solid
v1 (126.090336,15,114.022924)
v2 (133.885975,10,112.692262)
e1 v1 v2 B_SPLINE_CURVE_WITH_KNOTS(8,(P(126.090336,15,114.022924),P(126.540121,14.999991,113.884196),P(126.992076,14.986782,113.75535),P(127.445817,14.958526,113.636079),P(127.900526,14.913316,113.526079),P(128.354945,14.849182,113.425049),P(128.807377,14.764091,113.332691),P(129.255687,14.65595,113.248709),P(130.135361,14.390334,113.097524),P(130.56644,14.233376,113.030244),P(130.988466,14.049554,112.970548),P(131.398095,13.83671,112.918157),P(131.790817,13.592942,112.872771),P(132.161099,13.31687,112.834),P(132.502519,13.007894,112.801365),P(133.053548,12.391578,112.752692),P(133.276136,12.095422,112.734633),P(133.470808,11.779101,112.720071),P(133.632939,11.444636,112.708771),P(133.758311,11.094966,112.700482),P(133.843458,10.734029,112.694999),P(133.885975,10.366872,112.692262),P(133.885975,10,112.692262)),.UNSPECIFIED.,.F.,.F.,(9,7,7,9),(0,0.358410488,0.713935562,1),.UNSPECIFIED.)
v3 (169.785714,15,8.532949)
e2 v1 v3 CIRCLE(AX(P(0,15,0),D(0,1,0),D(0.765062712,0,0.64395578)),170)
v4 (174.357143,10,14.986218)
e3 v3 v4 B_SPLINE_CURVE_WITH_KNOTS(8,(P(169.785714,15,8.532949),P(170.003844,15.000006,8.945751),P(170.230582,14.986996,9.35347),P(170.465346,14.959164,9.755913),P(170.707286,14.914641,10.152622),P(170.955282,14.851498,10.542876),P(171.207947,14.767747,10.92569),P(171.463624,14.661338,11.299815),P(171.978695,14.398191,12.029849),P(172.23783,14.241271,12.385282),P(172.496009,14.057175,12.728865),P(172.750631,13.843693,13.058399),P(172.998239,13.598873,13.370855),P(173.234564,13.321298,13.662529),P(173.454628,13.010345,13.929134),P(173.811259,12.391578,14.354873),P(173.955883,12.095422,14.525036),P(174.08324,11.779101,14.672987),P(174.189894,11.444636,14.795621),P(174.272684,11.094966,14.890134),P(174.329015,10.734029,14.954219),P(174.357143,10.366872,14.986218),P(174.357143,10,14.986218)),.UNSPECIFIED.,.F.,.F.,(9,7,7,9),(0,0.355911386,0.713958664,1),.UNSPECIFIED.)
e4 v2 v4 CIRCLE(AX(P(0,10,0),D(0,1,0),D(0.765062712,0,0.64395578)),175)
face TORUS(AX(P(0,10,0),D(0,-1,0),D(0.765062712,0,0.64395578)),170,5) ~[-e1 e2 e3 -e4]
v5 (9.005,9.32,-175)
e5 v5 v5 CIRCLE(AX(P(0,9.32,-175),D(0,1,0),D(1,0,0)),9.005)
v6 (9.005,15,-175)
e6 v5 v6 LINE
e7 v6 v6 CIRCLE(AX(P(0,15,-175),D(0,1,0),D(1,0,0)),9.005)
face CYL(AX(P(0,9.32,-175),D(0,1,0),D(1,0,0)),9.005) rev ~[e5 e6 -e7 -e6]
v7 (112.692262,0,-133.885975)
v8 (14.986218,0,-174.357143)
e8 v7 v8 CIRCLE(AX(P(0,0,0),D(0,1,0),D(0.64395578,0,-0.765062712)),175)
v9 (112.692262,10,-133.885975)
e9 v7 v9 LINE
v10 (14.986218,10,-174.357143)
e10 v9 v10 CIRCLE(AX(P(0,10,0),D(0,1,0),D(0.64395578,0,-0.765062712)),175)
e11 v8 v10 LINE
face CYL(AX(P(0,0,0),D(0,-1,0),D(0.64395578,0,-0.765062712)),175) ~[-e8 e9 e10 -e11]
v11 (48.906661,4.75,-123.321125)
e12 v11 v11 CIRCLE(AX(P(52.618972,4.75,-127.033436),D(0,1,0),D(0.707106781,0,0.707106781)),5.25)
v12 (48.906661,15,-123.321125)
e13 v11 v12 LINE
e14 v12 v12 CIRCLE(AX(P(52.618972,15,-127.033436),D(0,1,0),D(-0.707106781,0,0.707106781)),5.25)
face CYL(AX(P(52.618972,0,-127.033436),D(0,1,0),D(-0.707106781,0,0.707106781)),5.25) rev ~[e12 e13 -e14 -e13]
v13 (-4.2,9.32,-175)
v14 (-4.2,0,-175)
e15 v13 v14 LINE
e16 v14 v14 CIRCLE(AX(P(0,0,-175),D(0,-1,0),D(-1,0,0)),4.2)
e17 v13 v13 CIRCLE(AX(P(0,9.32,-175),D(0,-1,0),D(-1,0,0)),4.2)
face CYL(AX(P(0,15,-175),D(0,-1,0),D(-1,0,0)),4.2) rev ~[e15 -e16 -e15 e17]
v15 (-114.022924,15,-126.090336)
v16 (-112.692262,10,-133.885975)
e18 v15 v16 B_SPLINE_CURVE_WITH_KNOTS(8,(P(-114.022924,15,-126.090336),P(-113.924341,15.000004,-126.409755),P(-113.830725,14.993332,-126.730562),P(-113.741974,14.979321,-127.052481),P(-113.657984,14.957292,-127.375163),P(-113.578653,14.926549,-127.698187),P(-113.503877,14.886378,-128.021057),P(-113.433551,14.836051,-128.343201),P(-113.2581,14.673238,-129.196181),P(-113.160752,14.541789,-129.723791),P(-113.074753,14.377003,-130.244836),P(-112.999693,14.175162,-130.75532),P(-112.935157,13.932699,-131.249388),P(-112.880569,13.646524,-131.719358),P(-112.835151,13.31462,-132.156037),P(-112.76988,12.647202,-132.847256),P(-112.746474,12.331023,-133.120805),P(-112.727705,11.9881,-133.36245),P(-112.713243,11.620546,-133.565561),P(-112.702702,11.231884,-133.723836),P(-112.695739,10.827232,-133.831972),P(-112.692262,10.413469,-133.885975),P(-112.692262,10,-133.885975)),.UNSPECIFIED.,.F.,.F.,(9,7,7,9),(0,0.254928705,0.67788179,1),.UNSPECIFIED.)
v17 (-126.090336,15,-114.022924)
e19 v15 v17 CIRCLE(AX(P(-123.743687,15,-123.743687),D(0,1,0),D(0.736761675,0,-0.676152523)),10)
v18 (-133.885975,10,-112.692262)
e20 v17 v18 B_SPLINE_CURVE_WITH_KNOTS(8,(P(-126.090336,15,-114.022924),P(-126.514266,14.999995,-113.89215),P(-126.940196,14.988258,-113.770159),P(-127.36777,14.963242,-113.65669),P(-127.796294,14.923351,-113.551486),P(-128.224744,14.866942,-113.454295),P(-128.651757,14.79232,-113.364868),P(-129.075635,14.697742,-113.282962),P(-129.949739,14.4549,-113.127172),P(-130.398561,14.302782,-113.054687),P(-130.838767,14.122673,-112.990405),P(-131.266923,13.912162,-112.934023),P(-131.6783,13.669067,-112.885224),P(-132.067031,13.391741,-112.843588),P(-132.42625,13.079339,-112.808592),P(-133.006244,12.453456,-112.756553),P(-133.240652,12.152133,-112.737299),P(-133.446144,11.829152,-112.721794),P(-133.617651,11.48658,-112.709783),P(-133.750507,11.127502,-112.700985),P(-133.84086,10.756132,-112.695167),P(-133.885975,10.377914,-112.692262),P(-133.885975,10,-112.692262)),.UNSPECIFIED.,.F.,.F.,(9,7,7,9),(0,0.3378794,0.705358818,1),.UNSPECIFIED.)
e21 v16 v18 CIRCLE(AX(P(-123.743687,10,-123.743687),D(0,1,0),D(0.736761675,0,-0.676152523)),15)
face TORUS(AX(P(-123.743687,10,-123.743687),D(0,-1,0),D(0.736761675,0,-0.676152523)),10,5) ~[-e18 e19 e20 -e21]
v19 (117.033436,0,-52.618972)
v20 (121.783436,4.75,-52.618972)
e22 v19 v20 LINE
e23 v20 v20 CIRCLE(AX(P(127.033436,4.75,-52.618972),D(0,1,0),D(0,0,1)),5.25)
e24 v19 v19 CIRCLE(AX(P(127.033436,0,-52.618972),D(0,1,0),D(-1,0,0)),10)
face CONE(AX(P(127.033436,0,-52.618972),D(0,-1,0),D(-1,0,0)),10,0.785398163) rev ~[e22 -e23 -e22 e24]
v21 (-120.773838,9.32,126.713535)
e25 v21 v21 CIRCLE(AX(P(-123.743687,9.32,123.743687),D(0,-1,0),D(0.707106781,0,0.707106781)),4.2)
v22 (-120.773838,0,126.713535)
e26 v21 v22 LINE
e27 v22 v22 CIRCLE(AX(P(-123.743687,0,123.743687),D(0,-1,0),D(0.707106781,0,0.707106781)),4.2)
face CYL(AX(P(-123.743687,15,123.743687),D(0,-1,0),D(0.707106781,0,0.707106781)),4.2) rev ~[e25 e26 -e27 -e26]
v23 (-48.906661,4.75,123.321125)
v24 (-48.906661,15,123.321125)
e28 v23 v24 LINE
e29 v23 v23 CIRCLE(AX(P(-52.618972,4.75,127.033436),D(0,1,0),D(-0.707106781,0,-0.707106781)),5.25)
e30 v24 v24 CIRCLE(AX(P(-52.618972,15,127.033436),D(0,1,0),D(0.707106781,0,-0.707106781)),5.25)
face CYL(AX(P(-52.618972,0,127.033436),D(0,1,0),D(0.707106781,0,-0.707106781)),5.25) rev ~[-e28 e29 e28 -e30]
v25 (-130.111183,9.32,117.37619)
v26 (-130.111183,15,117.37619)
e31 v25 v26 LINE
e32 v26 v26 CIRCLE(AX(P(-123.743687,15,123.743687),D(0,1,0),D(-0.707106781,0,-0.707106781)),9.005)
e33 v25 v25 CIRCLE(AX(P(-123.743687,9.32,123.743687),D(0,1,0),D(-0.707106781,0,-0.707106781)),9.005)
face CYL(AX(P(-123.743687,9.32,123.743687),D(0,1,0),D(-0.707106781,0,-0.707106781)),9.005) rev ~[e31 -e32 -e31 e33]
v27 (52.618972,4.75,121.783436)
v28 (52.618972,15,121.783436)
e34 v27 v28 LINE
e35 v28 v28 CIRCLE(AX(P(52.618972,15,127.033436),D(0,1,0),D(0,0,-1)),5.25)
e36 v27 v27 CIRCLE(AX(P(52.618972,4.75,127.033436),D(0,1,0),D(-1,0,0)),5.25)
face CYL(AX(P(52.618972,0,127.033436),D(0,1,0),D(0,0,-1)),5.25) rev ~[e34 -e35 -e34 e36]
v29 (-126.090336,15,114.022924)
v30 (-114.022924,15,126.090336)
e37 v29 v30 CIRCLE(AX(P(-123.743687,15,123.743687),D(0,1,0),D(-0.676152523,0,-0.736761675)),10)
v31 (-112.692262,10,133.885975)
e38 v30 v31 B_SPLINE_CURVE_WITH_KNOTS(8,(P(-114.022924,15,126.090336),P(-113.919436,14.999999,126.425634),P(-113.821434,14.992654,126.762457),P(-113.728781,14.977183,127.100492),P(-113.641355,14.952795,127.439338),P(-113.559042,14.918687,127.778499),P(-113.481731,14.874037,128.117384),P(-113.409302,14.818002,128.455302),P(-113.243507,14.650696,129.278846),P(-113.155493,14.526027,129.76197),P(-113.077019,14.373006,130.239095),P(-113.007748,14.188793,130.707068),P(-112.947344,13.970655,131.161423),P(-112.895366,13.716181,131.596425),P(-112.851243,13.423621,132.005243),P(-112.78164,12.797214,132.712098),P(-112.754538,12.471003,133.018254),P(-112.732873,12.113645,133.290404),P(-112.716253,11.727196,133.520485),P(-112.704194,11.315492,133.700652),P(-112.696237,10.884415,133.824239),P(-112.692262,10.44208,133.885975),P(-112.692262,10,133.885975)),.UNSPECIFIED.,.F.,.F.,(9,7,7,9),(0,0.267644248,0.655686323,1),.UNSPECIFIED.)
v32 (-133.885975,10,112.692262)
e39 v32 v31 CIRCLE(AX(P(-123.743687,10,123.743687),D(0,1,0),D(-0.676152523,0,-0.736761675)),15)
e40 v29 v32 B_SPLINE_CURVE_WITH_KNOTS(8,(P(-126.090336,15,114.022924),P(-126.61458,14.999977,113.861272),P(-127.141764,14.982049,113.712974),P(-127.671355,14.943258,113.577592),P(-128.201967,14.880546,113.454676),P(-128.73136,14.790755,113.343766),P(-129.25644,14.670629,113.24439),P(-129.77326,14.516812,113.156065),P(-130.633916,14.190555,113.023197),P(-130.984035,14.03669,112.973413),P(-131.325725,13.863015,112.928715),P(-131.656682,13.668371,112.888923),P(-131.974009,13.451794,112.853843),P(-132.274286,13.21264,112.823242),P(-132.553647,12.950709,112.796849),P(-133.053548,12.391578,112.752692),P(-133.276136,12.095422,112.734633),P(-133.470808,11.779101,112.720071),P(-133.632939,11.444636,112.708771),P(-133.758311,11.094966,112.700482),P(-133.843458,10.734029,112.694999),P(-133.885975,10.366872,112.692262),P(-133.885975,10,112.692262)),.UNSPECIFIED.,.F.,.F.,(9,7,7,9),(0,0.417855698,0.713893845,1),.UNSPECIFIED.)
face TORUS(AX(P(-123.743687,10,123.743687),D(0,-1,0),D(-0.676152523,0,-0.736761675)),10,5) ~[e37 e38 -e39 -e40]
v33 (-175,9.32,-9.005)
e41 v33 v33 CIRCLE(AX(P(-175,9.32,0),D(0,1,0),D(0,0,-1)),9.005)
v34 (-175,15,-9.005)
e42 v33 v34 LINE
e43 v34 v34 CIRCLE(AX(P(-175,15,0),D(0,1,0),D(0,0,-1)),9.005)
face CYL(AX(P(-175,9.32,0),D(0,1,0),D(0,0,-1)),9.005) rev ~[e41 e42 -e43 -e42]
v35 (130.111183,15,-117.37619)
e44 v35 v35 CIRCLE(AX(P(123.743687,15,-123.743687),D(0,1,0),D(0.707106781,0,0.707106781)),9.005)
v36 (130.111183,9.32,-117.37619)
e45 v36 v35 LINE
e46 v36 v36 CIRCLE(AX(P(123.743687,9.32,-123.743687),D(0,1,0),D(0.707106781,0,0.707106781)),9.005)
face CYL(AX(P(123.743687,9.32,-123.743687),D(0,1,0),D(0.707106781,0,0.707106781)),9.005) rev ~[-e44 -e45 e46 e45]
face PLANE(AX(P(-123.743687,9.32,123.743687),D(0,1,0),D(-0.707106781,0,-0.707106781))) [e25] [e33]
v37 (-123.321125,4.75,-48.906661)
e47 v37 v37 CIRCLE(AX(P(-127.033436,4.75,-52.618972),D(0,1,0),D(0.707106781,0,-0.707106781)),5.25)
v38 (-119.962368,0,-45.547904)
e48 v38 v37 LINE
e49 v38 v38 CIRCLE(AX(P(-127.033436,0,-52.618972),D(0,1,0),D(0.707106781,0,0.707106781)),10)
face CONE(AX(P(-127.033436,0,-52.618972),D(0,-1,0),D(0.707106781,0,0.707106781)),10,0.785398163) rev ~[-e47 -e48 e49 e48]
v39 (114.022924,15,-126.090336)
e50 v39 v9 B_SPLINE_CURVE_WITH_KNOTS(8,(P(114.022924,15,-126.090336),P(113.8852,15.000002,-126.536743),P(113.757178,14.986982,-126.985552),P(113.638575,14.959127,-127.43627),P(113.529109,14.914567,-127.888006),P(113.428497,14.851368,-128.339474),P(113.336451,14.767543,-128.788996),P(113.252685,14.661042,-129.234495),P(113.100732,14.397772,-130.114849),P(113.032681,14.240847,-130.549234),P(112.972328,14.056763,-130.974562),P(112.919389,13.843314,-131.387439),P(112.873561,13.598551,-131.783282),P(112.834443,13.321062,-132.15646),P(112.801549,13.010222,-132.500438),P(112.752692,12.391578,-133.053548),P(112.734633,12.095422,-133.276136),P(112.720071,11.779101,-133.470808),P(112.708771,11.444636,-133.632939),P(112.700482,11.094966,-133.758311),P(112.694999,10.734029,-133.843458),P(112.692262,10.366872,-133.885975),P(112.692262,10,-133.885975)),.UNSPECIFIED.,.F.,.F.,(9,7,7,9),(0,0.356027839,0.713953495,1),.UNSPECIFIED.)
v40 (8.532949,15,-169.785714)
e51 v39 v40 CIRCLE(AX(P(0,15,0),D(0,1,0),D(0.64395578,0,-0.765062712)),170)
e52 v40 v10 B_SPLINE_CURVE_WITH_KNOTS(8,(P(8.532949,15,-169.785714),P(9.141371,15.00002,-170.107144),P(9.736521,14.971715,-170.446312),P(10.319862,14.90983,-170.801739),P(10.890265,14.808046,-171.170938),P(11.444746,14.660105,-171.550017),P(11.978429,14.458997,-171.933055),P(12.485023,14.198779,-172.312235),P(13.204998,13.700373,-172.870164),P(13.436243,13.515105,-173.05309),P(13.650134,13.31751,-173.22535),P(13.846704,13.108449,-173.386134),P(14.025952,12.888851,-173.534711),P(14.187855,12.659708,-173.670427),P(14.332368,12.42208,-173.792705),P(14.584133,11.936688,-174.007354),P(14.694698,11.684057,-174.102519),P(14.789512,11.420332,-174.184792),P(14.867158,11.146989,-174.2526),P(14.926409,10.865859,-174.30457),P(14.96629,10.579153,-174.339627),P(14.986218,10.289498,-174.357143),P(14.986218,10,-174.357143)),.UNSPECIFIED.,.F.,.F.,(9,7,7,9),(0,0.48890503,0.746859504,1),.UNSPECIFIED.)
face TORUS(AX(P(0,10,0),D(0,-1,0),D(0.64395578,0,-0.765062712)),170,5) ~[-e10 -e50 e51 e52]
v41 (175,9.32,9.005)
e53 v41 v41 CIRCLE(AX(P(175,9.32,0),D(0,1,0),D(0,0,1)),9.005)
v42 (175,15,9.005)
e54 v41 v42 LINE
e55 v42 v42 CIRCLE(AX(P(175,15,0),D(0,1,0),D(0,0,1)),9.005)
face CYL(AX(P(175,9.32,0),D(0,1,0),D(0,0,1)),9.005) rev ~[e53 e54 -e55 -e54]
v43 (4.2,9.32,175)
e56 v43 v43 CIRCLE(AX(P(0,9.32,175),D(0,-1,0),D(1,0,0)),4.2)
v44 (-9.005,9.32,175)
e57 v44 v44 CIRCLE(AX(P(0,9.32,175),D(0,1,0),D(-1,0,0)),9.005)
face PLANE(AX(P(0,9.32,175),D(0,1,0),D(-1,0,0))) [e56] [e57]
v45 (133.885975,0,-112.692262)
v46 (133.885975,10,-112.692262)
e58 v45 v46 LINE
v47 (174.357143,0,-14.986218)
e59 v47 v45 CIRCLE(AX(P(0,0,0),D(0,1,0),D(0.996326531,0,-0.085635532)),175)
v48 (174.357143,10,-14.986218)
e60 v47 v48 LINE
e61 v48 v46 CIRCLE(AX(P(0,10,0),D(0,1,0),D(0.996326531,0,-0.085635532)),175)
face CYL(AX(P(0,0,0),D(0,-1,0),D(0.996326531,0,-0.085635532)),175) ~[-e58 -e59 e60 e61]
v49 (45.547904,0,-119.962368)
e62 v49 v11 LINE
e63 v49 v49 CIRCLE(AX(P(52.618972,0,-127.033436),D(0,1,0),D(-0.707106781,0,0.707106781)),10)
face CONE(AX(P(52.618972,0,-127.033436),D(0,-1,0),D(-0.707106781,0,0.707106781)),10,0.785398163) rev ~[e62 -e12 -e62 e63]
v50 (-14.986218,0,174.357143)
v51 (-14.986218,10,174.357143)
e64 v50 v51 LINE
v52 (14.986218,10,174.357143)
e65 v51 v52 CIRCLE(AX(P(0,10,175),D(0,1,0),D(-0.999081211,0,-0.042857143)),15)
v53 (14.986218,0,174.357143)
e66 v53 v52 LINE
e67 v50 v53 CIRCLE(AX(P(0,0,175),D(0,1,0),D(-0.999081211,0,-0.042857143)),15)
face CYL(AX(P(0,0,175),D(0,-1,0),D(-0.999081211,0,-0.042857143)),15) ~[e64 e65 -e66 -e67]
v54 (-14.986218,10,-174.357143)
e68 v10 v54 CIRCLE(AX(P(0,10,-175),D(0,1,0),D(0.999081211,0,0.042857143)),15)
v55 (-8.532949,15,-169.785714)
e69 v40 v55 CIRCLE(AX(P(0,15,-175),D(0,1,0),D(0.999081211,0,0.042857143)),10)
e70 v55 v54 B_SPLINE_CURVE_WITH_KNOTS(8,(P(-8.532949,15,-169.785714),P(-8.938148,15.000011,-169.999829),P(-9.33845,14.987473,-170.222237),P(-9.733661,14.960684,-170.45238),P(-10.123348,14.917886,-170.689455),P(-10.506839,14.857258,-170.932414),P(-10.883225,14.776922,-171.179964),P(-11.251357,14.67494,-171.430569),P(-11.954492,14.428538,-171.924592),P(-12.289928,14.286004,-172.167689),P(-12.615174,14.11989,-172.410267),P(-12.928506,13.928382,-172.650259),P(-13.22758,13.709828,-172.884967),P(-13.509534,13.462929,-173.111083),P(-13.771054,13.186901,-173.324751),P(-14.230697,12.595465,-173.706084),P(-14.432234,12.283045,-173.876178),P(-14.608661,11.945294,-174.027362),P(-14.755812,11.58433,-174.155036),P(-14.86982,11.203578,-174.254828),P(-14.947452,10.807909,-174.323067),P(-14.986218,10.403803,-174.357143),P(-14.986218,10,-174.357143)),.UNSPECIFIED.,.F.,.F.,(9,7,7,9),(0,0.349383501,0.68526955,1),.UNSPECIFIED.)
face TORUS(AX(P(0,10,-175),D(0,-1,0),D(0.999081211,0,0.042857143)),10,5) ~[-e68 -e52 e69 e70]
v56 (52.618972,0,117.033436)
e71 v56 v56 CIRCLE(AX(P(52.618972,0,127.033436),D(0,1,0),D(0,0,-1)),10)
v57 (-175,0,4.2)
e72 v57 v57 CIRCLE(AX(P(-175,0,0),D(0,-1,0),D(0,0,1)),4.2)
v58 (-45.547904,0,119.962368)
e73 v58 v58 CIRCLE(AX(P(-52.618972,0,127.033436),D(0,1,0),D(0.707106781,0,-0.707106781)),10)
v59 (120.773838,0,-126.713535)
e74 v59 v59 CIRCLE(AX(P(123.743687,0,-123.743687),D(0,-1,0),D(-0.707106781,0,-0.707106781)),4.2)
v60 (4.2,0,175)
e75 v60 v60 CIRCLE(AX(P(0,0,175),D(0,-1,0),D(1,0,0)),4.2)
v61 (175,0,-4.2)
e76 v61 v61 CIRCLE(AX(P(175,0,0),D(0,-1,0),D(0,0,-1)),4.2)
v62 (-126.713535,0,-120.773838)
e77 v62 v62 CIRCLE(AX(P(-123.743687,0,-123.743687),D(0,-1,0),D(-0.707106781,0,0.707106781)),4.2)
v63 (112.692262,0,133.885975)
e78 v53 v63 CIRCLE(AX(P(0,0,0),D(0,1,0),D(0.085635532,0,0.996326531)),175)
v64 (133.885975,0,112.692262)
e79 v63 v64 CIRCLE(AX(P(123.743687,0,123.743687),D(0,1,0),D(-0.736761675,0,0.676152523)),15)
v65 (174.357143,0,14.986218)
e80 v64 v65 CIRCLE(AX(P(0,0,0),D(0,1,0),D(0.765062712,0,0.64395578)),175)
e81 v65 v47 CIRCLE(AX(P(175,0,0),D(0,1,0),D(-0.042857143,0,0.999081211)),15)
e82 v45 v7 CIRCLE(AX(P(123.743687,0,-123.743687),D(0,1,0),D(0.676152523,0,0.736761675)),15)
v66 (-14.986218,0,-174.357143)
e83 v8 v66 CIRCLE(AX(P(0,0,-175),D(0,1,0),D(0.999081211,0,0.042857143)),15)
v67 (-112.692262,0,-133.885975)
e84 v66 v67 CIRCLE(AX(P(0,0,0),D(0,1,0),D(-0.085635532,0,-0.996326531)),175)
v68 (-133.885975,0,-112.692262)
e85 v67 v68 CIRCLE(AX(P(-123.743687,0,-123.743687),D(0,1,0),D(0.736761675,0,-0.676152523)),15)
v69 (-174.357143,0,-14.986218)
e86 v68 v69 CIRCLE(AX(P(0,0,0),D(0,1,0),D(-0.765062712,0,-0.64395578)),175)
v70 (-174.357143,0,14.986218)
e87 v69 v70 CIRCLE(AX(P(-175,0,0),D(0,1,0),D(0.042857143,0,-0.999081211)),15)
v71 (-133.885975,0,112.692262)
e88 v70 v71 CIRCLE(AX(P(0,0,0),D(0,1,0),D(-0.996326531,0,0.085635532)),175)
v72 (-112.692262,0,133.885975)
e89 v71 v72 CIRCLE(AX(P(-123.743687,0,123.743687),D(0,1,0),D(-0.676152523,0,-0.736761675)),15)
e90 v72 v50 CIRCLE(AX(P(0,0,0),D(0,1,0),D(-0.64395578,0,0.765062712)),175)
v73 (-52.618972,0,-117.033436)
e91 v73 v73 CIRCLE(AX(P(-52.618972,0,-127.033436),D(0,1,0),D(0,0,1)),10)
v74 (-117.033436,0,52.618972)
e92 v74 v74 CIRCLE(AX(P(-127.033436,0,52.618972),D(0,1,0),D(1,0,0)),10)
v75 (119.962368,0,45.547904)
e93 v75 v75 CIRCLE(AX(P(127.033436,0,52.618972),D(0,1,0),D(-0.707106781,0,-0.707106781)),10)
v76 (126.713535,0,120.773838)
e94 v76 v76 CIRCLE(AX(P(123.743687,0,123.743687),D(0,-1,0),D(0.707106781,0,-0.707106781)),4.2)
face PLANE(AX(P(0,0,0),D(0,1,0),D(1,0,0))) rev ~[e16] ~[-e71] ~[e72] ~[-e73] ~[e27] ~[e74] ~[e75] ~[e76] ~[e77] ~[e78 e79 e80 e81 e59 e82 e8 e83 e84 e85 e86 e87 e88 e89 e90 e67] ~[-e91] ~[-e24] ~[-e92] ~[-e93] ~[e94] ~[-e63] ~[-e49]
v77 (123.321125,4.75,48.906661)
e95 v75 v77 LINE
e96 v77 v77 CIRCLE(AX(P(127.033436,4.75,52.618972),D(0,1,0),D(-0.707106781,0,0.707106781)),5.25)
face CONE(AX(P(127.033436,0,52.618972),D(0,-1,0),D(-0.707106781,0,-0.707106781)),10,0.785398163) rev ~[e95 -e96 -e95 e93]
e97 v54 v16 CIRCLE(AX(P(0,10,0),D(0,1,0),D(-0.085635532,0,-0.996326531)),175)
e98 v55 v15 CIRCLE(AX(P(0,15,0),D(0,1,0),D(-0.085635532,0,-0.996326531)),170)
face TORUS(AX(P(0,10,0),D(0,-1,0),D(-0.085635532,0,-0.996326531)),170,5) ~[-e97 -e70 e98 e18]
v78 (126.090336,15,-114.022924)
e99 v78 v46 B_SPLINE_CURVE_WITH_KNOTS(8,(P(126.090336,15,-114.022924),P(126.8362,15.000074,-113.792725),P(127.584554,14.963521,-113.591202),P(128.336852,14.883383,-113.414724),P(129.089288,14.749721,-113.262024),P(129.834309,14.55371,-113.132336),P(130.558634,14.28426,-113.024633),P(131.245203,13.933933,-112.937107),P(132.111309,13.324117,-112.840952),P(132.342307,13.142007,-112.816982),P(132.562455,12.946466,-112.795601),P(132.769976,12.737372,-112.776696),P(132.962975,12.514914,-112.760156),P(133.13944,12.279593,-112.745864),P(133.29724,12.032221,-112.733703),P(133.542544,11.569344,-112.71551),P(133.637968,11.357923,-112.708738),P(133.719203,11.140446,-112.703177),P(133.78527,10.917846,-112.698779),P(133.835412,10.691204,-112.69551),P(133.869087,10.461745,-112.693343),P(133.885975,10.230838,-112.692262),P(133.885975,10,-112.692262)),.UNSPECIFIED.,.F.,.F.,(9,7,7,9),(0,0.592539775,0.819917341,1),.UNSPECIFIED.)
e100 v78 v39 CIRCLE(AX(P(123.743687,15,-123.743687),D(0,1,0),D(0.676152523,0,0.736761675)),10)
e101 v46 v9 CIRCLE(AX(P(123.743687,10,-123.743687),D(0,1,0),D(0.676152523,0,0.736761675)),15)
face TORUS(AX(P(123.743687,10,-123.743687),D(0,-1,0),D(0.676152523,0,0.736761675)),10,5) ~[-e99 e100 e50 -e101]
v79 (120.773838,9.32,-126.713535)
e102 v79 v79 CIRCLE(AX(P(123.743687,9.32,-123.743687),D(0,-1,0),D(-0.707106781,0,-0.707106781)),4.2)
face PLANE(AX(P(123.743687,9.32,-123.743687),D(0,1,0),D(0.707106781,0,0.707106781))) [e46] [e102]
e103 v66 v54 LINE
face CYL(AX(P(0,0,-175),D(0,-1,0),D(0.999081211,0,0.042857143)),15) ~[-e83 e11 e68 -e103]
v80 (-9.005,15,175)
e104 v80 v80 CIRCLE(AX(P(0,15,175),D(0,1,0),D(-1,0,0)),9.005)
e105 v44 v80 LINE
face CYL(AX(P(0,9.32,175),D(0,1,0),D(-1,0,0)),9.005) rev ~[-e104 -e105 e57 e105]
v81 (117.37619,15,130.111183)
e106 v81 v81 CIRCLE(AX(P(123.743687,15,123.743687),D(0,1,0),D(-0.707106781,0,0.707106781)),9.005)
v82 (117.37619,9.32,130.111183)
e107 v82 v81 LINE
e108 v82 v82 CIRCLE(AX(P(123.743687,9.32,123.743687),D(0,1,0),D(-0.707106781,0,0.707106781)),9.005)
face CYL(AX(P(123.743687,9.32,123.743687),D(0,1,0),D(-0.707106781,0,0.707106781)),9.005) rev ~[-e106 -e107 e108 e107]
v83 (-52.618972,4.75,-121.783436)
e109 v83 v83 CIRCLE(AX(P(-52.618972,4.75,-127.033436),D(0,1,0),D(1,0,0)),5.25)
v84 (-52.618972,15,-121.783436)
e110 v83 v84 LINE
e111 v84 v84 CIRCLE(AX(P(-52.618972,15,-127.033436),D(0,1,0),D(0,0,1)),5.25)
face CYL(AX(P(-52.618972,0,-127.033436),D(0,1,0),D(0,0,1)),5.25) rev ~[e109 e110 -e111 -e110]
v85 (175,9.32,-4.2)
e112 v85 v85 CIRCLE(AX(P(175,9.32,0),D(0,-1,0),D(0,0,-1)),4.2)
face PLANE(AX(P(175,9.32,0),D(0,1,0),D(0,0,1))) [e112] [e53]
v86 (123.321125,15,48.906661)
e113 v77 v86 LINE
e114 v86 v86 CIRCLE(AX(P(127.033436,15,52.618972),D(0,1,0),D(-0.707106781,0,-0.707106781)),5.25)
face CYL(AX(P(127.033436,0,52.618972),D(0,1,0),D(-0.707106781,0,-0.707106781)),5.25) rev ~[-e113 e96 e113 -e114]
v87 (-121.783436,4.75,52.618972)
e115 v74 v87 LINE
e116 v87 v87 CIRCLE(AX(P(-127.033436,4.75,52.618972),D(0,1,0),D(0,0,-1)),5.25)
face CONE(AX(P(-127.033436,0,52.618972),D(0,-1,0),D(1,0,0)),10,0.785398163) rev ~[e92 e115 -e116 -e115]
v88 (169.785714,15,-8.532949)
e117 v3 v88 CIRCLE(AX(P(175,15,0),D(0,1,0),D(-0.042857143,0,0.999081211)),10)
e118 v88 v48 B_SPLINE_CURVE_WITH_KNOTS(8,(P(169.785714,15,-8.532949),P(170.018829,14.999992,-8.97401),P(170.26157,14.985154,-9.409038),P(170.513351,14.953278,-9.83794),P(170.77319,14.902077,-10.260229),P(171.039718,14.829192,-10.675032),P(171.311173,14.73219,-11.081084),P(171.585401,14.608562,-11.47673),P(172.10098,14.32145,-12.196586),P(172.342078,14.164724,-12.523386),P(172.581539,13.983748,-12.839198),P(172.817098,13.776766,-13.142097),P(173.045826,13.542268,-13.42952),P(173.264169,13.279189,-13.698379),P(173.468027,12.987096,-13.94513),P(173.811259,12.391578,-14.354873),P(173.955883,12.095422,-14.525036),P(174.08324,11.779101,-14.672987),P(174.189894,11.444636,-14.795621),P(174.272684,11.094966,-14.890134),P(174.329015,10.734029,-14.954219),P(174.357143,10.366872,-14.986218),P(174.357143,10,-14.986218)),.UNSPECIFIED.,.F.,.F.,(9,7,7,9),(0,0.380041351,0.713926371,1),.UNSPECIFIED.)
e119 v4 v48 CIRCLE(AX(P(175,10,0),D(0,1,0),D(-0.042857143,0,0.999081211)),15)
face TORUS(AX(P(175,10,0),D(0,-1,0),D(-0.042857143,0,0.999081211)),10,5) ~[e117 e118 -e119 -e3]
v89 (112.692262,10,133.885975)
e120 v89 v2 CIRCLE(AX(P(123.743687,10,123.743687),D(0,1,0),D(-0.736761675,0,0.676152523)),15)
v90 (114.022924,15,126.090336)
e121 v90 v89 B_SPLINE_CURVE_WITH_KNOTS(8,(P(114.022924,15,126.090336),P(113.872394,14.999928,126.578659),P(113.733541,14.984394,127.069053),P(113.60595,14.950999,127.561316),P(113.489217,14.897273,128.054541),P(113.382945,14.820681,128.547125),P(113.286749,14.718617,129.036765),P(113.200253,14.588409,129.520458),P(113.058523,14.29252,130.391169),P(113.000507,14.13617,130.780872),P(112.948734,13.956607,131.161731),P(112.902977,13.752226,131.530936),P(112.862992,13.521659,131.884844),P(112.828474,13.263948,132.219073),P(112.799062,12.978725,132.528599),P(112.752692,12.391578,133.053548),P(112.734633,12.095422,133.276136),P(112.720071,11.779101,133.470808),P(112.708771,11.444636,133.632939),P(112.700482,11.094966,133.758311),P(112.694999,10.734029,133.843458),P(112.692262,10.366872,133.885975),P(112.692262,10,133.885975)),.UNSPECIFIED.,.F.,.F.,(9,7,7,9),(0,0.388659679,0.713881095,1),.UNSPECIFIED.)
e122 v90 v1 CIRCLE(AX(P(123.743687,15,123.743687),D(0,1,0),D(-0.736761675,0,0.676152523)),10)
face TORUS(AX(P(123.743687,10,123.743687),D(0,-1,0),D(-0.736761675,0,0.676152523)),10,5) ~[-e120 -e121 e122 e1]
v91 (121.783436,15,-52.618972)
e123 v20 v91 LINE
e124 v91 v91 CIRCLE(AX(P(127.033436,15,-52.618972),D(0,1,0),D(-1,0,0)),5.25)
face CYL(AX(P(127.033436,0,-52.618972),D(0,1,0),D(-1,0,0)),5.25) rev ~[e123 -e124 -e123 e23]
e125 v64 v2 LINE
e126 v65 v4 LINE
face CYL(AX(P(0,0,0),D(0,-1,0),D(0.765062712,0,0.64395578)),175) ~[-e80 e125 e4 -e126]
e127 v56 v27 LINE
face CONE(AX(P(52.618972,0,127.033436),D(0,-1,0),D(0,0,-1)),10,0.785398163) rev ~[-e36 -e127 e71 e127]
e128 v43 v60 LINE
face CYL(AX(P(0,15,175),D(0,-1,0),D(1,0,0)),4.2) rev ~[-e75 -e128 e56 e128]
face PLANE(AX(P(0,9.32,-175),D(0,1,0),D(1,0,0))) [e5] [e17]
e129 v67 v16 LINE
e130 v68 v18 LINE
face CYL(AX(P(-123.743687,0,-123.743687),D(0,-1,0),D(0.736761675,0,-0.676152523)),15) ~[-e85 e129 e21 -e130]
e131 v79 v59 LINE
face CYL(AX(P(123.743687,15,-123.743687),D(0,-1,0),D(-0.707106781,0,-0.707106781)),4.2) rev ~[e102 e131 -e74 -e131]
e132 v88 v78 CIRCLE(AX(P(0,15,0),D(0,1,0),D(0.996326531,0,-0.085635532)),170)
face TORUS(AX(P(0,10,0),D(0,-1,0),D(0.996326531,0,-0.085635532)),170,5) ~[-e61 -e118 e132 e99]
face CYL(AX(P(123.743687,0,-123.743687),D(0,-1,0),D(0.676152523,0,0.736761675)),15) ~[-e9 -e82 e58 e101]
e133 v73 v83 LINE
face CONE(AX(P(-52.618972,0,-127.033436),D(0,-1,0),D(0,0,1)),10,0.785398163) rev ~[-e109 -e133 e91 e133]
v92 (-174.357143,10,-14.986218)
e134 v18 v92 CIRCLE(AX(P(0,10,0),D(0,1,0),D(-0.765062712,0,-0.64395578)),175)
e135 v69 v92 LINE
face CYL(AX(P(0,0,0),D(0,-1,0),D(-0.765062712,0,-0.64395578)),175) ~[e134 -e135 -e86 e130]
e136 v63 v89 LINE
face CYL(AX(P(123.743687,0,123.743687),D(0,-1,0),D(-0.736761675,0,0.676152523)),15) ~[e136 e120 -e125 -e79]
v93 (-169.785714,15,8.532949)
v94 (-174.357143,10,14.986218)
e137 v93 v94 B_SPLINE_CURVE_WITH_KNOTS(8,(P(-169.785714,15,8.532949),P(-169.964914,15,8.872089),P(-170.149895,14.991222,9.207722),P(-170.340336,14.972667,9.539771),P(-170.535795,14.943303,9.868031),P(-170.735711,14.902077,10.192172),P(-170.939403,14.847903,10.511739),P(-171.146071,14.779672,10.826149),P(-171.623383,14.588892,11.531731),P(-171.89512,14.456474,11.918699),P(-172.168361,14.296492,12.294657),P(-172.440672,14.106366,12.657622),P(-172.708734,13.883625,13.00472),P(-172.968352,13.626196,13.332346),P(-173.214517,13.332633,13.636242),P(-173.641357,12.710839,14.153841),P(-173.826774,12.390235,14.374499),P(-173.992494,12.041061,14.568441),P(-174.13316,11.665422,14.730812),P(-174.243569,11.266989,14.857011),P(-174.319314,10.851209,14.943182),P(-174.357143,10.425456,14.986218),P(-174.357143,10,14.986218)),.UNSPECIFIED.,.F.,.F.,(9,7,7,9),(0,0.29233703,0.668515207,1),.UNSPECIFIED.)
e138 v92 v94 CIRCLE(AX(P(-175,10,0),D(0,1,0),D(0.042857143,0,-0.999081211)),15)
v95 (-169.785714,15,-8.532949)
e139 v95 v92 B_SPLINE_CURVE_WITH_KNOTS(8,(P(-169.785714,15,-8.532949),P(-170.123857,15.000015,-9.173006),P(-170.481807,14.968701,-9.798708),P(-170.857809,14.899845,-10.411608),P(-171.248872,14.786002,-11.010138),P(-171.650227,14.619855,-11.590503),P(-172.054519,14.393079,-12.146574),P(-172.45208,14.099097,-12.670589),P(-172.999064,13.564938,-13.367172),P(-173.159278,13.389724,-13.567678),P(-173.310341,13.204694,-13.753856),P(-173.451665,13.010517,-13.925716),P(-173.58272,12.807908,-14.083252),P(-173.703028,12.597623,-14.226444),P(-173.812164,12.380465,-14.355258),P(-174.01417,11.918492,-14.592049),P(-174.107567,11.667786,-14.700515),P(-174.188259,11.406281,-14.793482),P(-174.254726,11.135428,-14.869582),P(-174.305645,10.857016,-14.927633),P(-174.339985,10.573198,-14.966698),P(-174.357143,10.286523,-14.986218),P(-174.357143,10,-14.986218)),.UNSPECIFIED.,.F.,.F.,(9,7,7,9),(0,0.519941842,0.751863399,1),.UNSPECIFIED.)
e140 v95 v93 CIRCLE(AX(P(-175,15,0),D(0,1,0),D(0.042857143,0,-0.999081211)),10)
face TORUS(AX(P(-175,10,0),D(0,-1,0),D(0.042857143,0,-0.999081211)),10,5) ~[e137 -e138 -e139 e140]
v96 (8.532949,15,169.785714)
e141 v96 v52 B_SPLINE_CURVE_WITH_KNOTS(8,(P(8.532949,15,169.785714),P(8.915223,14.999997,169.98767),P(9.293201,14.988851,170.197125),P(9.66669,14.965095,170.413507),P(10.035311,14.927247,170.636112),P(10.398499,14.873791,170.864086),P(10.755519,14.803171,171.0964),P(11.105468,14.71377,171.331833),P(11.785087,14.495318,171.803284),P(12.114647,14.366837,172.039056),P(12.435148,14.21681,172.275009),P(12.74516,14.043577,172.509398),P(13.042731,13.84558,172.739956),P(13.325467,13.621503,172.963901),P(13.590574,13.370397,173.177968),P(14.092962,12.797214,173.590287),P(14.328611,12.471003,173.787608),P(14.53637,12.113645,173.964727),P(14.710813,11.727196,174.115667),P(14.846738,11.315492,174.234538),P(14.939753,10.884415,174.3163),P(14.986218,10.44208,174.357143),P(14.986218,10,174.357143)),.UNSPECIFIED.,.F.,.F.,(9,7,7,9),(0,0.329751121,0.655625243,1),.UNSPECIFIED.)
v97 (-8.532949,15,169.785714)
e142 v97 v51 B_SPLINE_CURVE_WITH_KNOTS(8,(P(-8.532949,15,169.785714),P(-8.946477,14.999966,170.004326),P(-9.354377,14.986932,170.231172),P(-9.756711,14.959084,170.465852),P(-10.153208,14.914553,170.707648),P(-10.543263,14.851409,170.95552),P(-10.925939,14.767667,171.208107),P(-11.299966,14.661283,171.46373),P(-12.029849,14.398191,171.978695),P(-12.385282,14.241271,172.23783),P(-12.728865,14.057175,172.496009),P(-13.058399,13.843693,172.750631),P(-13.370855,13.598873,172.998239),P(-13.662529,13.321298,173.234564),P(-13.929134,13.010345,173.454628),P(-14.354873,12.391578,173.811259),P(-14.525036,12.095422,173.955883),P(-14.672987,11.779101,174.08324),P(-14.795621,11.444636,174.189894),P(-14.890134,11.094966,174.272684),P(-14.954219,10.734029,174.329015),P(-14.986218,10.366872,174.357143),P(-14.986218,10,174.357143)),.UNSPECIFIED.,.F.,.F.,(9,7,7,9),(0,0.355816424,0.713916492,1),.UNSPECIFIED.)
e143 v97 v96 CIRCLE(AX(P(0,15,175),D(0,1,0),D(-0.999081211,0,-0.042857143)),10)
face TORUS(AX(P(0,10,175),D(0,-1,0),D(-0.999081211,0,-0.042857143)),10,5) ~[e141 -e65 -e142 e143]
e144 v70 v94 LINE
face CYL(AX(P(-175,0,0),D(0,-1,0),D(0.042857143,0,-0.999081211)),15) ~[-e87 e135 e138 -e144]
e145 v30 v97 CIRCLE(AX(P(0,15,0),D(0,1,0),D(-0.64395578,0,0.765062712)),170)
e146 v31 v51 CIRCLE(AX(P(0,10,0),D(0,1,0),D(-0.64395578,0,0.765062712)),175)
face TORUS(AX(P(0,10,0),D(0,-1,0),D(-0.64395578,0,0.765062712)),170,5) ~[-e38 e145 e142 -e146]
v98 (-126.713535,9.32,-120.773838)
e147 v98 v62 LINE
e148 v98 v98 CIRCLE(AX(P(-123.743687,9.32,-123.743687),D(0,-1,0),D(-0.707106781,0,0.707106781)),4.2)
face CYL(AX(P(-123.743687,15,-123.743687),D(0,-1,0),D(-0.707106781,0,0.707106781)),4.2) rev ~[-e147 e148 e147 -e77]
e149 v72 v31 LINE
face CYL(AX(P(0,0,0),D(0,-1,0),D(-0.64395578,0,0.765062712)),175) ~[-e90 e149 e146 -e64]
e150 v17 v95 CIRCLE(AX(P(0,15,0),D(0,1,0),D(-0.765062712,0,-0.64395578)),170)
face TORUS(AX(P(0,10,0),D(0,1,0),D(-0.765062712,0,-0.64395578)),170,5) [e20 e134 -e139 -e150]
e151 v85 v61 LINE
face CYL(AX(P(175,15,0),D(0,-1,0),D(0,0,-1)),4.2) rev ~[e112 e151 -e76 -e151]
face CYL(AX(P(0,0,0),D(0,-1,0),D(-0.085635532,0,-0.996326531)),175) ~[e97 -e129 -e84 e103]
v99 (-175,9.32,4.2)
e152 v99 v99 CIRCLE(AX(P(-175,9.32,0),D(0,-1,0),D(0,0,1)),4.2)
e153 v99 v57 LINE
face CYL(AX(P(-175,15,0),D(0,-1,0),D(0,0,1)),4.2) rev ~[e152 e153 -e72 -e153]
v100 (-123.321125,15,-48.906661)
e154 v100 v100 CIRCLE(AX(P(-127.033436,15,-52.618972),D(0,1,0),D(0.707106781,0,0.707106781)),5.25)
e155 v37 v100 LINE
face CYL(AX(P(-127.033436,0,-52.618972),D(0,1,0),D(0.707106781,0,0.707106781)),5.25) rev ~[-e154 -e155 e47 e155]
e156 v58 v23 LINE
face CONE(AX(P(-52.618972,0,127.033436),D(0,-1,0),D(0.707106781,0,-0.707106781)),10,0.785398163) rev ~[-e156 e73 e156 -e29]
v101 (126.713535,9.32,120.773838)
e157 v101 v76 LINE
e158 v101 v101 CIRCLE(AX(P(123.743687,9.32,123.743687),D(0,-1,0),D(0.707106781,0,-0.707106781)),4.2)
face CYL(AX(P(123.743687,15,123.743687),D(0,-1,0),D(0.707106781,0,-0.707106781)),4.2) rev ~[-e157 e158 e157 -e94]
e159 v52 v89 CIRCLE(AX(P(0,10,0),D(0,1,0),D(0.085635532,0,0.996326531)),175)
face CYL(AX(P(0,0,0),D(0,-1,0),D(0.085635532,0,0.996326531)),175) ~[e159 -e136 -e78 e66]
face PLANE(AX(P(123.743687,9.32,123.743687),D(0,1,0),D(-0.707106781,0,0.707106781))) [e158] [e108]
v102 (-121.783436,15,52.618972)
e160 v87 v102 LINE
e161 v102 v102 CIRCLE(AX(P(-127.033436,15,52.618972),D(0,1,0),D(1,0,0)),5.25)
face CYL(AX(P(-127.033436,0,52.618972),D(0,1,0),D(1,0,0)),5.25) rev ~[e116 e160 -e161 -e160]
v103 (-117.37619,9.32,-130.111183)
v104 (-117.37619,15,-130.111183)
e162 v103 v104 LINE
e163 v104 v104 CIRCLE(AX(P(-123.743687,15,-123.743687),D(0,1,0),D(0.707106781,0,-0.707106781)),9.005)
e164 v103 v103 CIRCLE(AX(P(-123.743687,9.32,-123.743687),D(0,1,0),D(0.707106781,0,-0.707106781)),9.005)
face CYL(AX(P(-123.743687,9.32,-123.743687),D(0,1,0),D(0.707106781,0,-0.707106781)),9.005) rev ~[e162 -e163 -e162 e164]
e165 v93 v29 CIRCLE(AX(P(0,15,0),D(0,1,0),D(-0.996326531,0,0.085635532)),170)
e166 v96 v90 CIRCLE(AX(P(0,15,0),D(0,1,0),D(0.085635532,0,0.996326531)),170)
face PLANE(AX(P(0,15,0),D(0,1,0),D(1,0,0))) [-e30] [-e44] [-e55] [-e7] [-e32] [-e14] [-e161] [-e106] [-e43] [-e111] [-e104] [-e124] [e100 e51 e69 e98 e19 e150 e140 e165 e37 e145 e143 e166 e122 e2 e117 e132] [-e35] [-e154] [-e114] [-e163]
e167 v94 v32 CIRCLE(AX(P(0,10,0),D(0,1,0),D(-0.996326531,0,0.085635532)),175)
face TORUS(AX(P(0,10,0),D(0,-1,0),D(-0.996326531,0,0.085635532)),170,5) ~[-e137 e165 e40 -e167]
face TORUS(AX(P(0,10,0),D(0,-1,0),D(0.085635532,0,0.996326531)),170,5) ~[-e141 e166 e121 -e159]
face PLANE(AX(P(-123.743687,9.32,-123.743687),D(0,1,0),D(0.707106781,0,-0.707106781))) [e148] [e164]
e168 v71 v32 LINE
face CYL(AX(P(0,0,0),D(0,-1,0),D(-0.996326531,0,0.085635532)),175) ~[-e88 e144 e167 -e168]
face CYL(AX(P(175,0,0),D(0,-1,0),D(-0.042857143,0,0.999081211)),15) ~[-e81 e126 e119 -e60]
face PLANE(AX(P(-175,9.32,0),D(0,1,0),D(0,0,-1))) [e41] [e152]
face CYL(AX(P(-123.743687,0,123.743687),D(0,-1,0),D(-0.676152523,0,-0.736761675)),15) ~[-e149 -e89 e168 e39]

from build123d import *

# Parameters (mm, degrees)
BOSS_EXTRUDE2_DEPTH                              = 15
CBORE_FOR_M8_HEX_HEAD_BOLT1_D                    = 8.4
CBORE_FOR_M8_HEX_HEAD_BOLT1_CBORE_D              = 18.01
CBORE_FOR_M8_HEX_HEAD_BOLT1_CBORE_DEPTH          = 5.68
CIRPATTERN1_COUNT                                = 8
CSK_FOR_M10_FLAT_HEAD_MACHINE_SCREW1_D           = 10.5
CSK_FOR_M10_FLAT_HEAD_MACHINE_SCREW1_CSINK_D     = 20
CSK_FOR_M10_FLAT_HEAD_MACHINE_SCREW1_CSINK_ANGLE = 90
CIRPATTERN2_COUNT                                = 8
FILLET1_R                                        = 5


with BuildPart() as part:
    # Sketch1 → Boss-Extrude2 (new body)
    with BuildSketch(Plane(origin=(0, 0, 0), x_dir=(1, 0, 0), z_dir=(0, 1, 0))):
        with BuildLine():
            ThreePointArc((-133.885974547, 112.692261578), (-161.678918189, 66.969600664), (-174.357142857, 14.986218158))
            ThreePointArc((-174.357142857, 14.986218158), (-190, 0), (-174.357142857, -14.986218158))
            ThreePointArc((-174.357142857, -14.986218158), (-161.678918189, -66.969600664), (-133.885974547, -112.692261578))
            ThreePointArc((-133.885974547, -112.692261578), (-134.350288425, -134.350288425), (-112.692261578, -133.885974547))
            ThreePointArc((-112.692261578, -133.885974547), (-66.969600664, -161.678918189), (-14.986218158, -174.357142857))
            ThreePointArc((-14.986218158, -174.357142857), (0, -190), (14.986218158, -174.357142857))
            ThreePointArc((14.986218158, -174.357142857), (66.969600664, -161.678918189), (112.692261578, -133.885974547))
            ThreePointArc((112.692261578, -133.885974547), (134.350288425, -134.350288425), (133.885974547, -112.692261578))
            ThreePointArc((133.885974547, -112.692261578), (161.678918189, -66.969600664), (174.357142857, -14.986218158))
            ThreePointArc((174.357142857, -14.986218158), (190, 0), (174.357142857, 14.986218158))
            ThreePointArc((174.357142857, 14.986218158), (161.678918189, 66.969600664), (133.885974547, 112.692261578))
            ThreePointArc((133.885974547, 112.692261578), (134.350288425, 134.350288425), (112.692261578, 133.885974547))
            ThreePointArc((112.692261578, 133.885974547), (66.969600664, 161.678918189), (14.986218158, 174.357142857))
            ThreePointArc((14.986218158, 174.357142857), (0, 190), (-14.986218158, 174.357142857))
            ThreePointArc((-14.986218158, 174.357142857), (-66.969600664, 161.678918189), (-112.692261578, 133.885974547))
            ThreePointArc((-112.692261578, 133.885974547), (-134.350288425, 134.350288425), (-133.885974547, 112.692261578))
        make_face()
    extrude(amount=BOSS_EXTRUDE2_DEPTH)

    # CBORE for M8 Hex Head Bolt1 (through all)
    with Locations(Plane(origin=(0, 15, 0), x_dir=(1, 0, 0), z_dir=(0, 1, 0))):
        with Locations((0, 175)):
            cbore_for_m8_hex_head_bolt1 = CounterBoreHole(CBORE_FOR_M8_HEX_HEAD_BOLT1_D / 2, CBORE_FOR_M8_HEX_HEAD_BOLT1_CBORE_D / 2, CBORE_FOR_M8_HEX_HEAD_BOLT1_CBORE_DEPTH)

    # CirPattern1: CBORE for M8 Hex Head Bolt1 ×8 about axis
    cirpattern1_axis = Axis((0, 0, 0), (0, 1, 0))
    for i in range(1, CIRPATTERN1_COUNT):
        add(cbore_for_m8_hex_head_bolt1.rotate(cirpattern1_axis, i * 360 / CIRPATTERN1_COUNT), mode=Mode.SUBTRACT)

    # CSK for M10 Flat Head Machine Screw1 (through all)
    with Locations(Plane(origin=(-52.61897195, 0, -127.03343572), x_dir=(0, 0, -1), z_dir=(0, -1, 0))):
        with Locations((0, 0)):
            csk_for_m10_flat_head_machine_screw1 = CounterSinkHole(CSK_FOR_M10_FLAT_HEAD_MACHINE_SCREW1_D / 2, CSK_FOR_M10_FLAT_HEAD_MACHINE_SCREW1_CSINK_D / 2, counter_sink_angle=CSK_FOR_M10_FLAT_HEAD_MACHINE_SCREW1_CSINK_ANGLE)

    # CirPattern2: CSK for M10 Flat Head Machine Screw1 ×8 about axis
    cirpattern2_axis = Axis((0, 0, 0), (0, 1, 0))
    for i in range(1, CIRPATTERN2_COUNT):
        add(csk_for_m10_flat_head_machine_screw1.rotate(cirpattern2_axis, i * 360 / CIRPATTERN2_COUNT), mode=Mode.SUBTRACT)

    # Fillet1
    fillet1_edges = [part.edges().sort_by_distance(p)[0] for p in [
        (-190, 15, 0),
        (-161.678918189, 15, 66.969600664),
        (-134.350288425, 15, 134.350288425),
        (-66.969600664, 15, 161.678918189),
        (0, 15, 190),
        (66.969600664, 15, 161.678918189),
        (134.350288425, 15, 134.350288425),
        (161.678918189, 15, 66.969600664),
        (190, 15, 0),
        (161.678918189, 15, -66.969600664),
        (-134.350288425, 15, -134.350288425),
        (134.350288425, 15, -134.350288425),
        (66.969600664, 15, -161.678918189),
        (0, 15, -190),
        (-66.969600664, 15, -161.678918189),
        (-161.678918189, 15, -66.969600664),
    ]]
    fillet(fillet1_edges, radius=FILLET1_R)


solid = part.part
